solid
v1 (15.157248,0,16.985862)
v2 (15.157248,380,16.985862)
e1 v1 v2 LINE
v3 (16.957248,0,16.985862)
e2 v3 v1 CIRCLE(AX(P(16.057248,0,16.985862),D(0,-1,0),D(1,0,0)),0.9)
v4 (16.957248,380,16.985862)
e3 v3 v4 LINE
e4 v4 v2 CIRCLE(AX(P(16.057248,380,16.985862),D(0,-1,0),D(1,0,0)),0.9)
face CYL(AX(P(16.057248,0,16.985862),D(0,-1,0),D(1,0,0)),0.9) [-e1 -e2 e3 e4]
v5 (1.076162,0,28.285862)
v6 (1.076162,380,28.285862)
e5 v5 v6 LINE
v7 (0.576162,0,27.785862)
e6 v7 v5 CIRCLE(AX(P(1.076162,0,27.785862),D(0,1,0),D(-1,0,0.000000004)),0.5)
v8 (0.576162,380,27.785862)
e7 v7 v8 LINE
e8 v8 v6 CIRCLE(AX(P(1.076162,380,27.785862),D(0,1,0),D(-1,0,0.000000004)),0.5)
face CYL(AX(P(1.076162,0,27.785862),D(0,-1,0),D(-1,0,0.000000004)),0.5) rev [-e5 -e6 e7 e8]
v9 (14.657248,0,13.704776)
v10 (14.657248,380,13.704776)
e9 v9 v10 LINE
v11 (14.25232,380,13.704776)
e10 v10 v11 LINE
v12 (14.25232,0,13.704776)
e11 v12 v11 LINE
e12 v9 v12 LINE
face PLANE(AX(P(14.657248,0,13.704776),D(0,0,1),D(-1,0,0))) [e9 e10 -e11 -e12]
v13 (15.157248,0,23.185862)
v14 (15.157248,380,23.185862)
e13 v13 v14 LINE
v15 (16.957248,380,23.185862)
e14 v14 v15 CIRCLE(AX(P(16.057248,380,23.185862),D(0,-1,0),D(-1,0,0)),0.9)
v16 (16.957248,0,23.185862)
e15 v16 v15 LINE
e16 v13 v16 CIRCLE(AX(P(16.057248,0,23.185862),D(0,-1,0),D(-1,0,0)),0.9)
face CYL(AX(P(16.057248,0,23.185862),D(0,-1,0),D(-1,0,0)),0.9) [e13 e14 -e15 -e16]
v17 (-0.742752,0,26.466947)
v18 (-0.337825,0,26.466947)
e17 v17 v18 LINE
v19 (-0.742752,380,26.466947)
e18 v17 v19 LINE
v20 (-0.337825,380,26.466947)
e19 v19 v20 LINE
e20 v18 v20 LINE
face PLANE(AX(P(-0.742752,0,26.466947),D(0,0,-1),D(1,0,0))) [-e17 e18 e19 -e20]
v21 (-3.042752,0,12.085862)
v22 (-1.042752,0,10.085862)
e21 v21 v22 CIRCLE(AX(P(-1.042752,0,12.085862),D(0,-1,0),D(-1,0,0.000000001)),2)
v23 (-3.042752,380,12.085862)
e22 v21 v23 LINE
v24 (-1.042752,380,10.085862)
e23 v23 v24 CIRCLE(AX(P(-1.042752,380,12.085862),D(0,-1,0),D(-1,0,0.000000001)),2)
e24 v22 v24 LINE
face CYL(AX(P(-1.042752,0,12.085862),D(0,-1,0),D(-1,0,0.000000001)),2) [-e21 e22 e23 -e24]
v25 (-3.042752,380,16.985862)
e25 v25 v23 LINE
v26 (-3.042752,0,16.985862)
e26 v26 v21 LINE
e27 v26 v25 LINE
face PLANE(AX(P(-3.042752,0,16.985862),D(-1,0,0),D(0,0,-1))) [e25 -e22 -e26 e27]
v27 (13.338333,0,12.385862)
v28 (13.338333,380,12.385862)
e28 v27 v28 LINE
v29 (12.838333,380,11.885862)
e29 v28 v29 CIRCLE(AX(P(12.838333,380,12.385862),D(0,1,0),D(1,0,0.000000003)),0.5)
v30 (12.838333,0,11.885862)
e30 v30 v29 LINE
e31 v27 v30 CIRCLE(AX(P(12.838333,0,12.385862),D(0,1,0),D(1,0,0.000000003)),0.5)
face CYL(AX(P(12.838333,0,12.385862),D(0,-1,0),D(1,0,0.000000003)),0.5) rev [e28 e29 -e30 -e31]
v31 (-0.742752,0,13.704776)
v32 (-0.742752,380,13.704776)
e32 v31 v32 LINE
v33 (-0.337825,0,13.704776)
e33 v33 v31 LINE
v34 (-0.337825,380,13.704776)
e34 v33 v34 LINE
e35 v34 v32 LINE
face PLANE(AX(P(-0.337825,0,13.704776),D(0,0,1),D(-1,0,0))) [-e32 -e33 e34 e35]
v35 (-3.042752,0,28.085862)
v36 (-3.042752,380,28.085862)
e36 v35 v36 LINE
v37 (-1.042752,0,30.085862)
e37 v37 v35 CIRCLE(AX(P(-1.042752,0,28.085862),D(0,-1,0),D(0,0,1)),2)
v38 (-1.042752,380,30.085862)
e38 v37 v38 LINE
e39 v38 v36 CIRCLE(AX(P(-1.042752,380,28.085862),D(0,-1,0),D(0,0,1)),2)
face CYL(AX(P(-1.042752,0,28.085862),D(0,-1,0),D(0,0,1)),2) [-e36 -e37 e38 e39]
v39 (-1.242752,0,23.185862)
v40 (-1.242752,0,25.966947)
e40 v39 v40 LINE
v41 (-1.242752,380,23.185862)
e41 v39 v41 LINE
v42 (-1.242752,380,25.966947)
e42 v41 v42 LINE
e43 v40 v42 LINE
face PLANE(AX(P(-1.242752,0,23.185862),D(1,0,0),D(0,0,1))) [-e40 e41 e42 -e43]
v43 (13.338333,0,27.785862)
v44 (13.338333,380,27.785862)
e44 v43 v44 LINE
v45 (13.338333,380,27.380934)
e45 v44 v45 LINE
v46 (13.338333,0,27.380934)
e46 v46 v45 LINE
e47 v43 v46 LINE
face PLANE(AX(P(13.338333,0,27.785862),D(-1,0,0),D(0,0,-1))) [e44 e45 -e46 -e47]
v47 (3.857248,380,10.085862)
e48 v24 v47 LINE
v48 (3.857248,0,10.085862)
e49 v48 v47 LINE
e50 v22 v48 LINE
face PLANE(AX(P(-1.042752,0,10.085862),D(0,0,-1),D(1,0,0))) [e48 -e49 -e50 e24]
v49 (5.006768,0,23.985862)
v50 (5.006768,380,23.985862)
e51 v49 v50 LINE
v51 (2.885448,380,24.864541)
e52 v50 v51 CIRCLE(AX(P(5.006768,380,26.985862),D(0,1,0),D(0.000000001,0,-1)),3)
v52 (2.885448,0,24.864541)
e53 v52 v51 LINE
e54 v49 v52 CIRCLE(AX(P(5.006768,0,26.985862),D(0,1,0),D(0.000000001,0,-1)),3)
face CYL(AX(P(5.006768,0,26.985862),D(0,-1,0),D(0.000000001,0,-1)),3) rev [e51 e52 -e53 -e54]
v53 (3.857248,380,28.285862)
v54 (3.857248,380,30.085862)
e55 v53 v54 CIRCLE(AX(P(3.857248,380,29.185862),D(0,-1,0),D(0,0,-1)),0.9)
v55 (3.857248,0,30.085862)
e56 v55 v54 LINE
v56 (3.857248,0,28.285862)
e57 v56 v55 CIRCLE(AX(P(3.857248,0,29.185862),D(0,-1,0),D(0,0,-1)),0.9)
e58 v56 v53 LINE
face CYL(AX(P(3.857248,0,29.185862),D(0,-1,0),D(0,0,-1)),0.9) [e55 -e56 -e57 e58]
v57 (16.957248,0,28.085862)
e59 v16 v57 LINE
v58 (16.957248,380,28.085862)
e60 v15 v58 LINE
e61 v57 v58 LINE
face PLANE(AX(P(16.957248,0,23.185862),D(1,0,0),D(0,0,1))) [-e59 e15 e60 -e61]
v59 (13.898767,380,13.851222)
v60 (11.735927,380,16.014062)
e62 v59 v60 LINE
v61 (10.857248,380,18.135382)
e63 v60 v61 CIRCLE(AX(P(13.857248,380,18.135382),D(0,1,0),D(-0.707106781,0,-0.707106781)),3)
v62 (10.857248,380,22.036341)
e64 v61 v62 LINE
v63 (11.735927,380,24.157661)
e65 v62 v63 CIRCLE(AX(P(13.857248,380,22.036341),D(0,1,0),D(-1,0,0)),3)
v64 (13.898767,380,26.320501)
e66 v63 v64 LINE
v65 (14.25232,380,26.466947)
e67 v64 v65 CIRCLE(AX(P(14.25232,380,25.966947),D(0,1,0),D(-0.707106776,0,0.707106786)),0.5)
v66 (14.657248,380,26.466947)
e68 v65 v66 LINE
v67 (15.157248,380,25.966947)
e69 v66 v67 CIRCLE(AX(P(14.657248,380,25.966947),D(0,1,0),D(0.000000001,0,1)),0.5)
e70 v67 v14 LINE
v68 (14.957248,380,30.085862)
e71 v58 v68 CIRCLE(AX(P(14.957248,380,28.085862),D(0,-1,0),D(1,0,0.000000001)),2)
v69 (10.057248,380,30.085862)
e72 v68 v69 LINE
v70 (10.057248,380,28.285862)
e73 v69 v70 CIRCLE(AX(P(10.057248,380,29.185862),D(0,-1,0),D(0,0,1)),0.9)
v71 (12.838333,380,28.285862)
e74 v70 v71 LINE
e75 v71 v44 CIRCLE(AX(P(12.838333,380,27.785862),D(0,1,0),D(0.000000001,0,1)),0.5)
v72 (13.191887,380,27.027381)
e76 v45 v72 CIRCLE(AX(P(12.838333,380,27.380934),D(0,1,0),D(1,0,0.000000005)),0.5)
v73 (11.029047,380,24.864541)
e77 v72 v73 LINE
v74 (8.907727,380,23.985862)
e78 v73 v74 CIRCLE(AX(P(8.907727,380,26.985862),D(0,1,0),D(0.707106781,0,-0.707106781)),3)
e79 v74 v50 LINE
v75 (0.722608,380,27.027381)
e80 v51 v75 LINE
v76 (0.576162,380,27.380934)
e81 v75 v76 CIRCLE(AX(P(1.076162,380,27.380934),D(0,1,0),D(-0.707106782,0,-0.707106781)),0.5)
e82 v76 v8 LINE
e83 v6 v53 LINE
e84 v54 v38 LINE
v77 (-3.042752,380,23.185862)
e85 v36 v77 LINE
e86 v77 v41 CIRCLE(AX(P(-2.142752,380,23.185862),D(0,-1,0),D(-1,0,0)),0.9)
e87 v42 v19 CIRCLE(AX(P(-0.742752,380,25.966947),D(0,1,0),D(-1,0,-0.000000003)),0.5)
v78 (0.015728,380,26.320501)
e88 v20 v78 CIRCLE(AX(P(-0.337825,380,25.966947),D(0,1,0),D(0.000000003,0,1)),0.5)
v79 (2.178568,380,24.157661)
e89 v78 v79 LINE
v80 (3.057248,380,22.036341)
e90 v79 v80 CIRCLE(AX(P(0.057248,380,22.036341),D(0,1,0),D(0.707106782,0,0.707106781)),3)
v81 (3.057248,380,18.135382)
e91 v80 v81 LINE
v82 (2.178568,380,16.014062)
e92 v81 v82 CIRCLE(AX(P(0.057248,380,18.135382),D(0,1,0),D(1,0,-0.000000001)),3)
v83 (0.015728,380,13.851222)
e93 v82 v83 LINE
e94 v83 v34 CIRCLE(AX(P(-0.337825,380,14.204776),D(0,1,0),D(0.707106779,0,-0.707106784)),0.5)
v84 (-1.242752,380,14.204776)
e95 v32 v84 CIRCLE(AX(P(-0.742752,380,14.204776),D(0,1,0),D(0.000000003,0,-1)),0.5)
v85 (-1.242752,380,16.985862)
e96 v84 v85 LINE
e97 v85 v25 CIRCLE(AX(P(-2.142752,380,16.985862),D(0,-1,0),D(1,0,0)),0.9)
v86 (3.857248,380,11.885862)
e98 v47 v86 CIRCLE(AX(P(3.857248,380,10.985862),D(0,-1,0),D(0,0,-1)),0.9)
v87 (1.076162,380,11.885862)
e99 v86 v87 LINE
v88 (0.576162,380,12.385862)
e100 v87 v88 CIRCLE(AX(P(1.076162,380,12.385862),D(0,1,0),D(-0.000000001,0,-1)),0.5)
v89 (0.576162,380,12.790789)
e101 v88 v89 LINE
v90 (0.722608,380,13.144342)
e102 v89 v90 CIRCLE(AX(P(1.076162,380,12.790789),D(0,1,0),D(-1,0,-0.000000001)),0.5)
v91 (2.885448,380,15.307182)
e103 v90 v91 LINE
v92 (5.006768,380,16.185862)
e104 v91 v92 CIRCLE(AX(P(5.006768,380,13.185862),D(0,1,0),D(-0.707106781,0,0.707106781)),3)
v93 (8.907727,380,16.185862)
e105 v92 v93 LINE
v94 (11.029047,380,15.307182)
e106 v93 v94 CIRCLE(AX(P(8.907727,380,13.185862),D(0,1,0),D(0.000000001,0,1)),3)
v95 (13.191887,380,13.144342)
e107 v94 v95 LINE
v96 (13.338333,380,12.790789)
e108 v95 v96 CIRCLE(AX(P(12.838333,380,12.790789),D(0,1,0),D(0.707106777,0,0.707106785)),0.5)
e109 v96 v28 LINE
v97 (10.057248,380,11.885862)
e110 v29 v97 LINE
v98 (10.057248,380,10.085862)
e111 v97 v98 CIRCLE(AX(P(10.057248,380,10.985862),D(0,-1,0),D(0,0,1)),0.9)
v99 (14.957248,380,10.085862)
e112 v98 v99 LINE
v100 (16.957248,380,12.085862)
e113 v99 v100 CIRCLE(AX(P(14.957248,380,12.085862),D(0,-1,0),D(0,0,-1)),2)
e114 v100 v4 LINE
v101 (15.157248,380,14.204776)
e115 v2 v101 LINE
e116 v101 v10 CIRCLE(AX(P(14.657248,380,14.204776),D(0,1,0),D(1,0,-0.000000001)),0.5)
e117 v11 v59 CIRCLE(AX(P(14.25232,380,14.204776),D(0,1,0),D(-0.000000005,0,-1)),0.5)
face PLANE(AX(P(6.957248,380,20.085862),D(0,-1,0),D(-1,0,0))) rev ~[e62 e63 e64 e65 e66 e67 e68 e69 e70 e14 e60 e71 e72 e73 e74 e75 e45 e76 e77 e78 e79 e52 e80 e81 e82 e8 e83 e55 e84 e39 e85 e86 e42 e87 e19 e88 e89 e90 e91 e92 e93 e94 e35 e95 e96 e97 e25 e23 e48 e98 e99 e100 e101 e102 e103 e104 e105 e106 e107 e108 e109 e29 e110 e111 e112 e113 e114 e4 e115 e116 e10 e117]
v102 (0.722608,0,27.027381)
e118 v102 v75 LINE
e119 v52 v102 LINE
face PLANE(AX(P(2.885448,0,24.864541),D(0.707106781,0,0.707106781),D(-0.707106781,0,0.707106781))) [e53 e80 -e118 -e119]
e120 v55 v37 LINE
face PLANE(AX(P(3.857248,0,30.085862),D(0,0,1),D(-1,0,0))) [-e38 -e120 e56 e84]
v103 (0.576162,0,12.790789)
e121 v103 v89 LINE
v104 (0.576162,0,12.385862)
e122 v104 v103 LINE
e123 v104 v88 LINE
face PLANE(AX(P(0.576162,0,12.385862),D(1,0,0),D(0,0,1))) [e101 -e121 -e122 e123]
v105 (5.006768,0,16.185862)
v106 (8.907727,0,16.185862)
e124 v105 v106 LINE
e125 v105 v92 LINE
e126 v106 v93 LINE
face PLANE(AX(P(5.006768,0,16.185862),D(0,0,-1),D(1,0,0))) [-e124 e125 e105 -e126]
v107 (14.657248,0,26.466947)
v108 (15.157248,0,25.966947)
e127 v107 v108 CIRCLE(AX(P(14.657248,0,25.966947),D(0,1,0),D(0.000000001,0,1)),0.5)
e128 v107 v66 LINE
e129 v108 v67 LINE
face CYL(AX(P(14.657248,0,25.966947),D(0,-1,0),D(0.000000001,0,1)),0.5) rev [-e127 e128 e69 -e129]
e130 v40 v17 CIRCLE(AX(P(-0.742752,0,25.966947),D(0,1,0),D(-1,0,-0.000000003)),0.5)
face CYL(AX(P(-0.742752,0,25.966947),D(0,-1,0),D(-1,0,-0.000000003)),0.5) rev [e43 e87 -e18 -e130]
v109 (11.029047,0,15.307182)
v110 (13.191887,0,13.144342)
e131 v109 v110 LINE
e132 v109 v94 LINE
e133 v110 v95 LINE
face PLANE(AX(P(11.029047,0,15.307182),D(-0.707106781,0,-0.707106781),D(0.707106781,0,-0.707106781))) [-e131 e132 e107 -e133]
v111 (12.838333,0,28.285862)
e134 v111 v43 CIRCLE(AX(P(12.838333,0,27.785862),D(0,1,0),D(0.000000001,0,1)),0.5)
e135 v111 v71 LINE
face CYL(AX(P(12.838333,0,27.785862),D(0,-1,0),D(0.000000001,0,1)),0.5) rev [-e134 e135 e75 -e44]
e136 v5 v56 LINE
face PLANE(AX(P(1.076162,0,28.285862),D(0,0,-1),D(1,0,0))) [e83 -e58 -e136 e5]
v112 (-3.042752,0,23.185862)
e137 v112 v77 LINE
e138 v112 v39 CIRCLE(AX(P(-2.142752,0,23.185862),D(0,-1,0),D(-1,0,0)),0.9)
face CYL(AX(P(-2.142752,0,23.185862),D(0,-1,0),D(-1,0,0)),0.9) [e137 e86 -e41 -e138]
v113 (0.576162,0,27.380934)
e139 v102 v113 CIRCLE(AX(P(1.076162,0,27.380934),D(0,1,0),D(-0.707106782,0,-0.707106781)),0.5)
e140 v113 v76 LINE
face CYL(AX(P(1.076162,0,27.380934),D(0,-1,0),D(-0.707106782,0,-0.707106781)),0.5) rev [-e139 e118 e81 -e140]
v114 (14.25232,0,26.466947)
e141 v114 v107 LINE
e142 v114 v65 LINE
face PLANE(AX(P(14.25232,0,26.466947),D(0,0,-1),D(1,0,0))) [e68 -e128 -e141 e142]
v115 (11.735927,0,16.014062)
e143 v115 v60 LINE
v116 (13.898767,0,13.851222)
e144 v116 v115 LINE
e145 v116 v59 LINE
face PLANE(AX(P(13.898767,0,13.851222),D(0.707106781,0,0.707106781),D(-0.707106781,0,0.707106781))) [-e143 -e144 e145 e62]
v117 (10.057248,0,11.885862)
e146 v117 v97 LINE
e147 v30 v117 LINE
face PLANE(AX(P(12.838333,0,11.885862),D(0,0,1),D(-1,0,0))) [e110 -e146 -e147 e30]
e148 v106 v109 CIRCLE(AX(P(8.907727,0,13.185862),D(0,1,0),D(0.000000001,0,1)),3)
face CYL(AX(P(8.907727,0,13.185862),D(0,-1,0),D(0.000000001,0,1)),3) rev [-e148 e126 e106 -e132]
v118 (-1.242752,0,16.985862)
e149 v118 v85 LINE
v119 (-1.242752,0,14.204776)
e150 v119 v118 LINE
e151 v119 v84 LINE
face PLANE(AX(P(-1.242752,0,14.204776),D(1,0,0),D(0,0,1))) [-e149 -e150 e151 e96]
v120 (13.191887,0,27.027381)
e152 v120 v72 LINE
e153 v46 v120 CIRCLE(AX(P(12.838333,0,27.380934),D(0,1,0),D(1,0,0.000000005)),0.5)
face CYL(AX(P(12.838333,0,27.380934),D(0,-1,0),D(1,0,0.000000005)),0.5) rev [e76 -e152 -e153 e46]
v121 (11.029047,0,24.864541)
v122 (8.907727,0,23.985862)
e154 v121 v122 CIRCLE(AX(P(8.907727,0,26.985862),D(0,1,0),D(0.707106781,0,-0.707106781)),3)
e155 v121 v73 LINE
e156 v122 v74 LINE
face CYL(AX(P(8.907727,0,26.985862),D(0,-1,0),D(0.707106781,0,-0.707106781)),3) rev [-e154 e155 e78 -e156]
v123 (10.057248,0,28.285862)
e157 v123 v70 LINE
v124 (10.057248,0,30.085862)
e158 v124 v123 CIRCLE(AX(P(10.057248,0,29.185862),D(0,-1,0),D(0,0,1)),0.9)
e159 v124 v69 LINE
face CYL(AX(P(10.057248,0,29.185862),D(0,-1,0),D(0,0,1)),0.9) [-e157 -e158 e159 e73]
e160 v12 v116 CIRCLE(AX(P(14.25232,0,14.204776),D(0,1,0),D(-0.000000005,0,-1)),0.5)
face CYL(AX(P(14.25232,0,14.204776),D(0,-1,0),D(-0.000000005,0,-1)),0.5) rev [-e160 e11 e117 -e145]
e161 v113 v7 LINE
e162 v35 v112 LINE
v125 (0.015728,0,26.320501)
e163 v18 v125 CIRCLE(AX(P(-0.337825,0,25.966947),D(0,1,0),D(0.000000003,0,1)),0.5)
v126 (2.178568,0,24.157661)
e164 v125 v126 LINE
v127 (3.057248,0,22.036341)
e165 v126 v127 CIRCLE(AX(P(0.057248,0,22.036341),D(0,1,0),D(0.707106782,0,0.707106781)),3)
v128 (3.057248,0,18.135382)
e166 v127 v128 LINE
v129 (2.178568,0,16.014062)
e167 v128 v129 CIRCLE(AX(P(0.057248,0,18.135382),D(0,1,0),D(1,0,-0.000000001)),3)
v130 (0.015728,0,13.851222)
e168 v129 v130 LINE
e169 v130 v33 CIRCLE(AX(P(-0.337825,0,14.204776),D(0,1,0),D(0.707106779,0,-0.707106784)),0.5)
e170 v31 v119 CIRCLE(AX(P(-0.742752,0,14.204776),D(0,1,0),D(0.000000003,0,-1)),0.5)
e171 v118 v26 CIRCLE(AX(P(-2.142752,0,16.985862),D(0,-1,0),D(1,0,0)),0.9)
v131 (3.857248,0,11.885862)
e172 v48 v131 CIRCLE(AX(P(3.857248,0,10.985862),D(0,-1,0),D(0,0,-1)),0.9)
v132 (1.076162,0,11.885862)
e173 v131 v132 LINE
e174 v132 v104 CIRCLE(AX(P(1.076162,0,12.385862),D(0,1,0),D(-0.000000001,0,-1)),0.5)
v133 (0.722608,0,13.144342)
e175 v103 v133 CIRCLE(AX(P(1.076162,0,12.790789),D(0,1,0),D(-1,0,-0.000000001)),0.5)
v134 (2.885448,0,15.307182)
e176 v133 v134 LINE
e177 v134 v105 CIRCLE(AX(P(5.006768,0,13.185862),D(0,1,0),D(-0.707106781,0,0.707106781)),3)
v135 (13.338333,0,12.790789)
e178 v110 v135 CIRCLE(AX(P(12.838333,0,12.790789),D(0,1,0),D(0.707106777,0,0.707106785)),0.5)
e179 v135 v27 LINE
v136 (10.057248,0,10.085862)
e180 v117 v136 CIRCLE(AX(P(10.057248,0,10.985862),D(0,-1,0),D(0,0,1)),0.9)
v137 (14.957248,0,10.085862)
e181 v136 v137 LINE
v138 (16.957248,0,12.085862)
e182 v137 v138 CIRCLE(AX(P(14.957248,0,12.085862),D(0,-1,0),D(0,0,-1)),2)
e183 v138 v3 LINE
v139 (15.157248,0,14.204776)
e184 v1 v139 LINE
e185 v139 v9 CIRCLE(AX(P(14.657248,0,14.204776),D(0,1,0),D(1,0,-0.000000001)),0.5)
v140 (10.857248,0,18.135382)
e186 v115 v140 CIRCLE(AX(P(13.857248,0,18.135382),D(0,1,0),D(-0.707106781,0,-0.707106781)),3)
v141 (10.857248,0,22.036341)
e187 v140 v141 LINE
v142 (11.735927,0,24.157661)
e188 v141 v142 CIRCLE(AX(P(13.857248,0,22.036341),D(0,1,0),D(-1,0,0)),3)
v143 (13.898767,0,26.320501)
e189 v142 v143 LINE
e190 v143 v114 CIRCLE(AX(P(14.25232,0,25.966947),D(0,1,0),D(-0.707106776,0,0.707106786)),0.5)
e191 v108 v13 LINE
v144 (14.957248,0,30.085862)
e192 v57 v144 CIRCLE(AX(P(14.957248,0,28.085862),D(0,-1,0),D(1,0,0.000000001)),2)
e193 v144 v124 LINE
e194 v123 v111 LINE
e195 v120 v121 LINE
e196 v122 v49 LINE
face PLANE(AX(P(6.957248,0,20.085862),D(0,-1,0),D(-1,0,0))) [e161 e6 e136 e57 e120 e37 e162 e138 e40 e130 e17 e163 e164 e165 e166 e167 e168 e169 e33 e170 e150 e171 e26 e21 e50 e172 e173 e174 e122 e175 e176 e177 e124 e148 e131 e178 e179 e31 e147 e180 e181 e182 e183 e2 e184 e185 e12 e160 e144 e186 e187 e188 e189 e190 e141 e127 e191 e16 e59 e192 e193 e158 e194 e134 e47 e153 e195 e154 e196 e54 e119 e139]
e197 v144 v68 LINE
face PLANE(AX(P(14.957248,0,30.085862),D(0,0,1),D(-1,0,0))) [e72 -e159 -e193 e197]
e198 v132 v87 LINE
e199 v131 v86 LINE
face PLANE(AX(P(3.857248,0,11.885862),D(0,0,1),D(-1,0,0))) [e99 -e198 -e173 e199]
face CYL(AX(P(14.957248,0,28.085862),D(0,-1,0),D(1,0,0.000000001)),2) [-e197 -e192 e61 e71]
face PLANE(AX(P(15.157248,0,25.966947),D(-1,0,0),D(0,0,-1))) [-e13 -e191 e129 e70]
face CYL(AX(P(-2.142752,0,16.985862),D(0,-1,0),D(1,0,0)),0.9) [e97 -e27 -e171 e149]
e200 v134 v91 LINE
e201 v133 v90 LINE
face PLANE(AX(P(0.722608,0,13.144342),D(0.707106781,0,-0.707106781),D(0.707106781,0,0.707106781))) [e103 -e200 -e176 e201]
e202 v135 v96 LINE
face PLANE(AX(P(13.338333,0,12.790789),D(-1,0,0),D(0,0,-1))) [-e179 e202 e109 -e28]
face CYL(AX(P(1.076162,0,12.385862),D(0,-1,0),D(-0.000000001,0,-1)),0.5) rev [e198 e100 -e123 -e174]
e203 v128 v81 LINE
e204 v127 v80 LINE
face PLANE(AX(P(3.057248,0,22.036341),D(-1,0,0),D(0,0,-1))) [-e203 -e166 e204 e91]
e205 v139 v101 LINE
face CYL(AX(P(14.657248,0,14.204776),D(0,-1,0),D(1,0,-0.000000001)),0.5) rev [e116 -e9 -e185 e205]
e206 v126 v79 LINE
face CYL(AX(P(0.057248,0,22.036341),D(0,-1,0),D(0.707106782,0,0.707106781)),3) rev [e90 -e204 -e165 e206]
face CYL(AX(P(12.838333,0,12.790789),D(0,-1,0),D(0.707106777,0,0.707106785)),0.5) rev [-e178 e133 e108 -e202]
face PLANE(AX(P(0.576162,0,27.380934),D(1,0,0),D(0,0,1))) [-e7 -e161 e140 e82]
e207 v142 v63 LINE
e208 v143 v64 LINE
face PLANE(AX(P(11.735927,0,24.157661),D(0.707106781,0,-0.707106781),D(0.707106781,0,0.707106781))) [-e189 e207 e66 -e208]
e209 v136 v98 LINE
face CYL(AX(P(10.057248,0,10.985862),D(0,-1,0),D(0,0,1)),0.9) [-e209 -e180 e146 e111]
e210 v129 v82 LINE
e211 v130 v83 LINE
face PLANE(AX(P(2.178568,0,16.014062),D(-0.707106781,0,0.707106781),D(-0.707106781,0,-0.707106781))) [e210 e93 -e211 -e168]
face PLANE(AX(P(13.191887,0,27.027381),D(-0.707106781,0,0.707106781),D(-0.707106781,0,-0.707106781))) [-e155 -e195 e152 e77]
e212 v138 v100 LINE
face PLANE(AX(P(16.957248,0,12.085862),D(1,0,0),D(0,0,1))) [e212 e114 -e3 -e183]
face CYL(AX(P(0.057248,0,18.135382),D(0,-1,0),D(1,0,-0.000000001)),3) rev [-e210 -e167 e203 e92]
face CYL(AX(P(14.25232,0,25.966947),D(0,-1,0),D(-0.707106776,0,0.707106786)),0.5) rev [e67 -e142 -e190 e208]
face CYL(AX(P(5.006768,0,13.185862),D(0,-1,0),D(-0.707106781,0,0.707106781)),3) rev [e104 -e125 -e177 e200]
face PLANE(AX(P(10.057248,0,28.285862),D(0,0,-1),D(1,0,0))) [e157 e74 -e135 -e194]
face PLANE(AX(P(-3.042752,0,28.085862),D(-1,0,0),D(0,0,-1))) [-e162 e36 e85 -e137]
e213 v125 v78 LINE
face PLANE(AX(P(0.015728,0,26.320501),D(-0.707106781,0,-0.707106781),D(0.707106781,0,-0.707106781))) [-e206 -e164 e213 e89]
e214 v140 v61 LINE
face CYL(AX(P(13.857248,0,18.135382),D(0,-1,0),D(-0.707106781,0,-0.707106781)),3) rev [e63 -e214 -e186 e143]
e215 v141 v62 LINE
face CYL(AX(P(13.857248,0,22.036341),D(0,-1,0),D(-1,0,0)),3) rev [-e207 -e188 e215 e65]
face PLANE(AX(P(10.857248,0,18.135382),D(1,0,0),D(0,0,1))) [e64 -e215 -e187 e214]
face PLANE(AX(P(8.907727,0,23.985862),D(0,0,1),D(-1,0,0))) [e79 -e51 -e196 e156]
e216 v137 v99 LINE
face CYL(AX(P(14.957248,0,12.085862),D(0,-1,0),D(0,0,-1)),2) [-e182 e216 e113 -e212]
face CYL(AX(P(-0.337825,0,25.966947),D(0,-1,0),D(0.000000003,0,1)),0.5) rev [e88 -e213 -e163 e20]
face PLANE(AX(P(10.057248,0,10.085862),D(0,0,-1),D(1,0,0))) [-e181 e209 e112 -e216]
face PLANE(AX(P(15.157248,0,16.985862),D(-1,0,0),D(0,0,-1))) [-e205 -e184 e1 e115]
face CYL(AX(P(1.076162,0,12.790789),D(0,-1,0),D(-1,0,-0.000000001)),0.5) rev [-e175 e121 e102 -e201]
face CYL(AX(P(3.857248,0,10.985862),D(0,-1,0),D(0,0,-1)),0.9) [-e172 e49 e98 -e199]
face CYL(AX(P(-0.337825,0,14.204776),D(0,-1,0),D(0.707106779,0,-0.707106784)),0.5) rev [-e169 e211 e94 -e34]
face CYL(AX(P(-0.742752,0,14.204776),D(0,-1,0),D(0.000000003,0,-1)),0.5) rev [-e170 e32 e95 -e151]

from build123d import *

# Parameters (mm, degrees)
EXTRUDE_1_DEPTH = 380


with BuildPart() as part:
    # 草图2 → 凸台-拉伸1 (new body)
    with BuildSketch(Plane(origin=(0, 0, 0), x_dir=(1, 0, 0), z_dir=(0, 1, 0))):
        with BuildLine():
            Line((-1.042752475, -10.085861632), (3.857247525, -10.085861632))
            ThreePointArc((3.857247525, -10.085861632), (4.757247525, -10.985861632), (3.857247525, -11.885861632))
            Line((3.857247525, -11.885861632), (1.076161722, -11.885861632))
            ThreePointArc((1.076161722, -11.885861632), (0.722608332, -12.032308241), (0.576161722, -12.385861632))
            Line((0.576161722, -12.385861632), (0.576161722, -12.790788968))
            ThreePointArc((0.576161722, -12.790788968), (0.614221956, -12.982130685), (0.722608332, -13.144342359))
            Line((0.722608332, -13.144342359), (2.885447948, -15.307181975))
            ThreePointArc((2.885447948, -15.307181975), (3.858717994, -15.957500229), (5.006768291, -16.185861632))
            Line((5.006768291, -16.185861632), (8.907726758, -16.185861632))
            ThreePointArc((8.907726758, -16.185861632), (10.055777055, -15.957500229), (11.029047102, -15.307181975))
            Line((11.029047102, -15.307181975), (13.191886718, -13.144342359))
            ThreePointArc((13.191886718, -13.144342359), (13.300273094, -12.982130685), (13.338333327, -12.790788968))
            Line((13.338333327, -12.790788968), (13.338333327, -12.385861632))
            ThreePointArc((13.338333327, -12.385861632), (13.191886718, -12.032308241), (12.838333327, -11.885861632))
            Line((12.838333327, -11.885861632), (10.057247525, -11.885861632))
            ThreePointArc((10.057247525, -11.885861632), (9.157247525, -10.985861632), (10.057247525, -10.085861632))
            Line((10.057247525, -10.085861632), (14.957247525, -10.085861632))
            ThreePointArc((14.957247525, -10.085861632), (16.371461087, -10.671648069), (16.957247525, -12.085861632))
            Line((16.957247525, -12.085861632), (16.957247525, -16.985861632))
            ThreePointArc((16.957247525, -16.985861632), (16.057247525, -17.885861632), (15.157247525, -16.985861632))
            Line((15.157247525, -16.985861632), (15.157247525, -14.204775829))
            ThreePointArc((15.157247525, -14.204775829), (15.010800915, -13.851222438), (14.657247525, -13.704775829))
            Line((14.657247525, -13.704775829), (14.252320188, -13.704775829))
            ThreePointArc((14.252320188, -13.704775829), (14.060978472, -13.742836063), (13.898766797, -13.851222438))
            Line((13.898766797, -13.851222438), (11.735927181, -16.014062054))
            ThreePointArc((11.735927181, -16.014062054), (11.085608927, -16.987332101), (10.857247525, -18.135382398))
            Line((10.857247525, -18.135382398), (10.857247525, -22.036340865))
            ThreePointArc((10.857247525, -22.036340865), (11.085608927, -23.184391162), (11.735927181, -24.157661209))
            Line((11.735927181, -24.157661209), (13.898766797, -26.320500825))
            ThreePointArc((13.898766797, -26.320500825), (14.060978472, -26.4288872), (14.252320188, -26.466947434))
            Line((14.252320188, -26.466947434), (14.657247525, -26.466947434))
            ThreePointArc((14.657247525, -26.466947434), (15.010800915, -26.320500825), (15.157247525, -25.966947434))
            Line((15.157247525, -25.966947434), (15.157247525, -23.185861632))
            ThreePointArc((15.157247525, -23.185861632), (16.057247525, -22.285861632), (16.957247525, -23.185861632))
            Line((16.957247525, -23.185861632), (16.957247525, -28.085861632))
            ThreePointArc((16.957247525, -28.085861632), (16.371461087, -29.500075194), (14.957247525, -30.085861632))
            Line((14.957247525, -30.085861632), (10.057247525, -30.085861632))
            ThreePointArc((10.057247525, -30.085861632), (9.157247525, -29.185861632), (10.057247525, -28.285861632))
            Line((10.057247525, -28.285861632), (12.838333327, -28.285861632))
            ThreePointArc((12.838333327, -28.285861632), (13.191886718, -28.139415022), (13.338333327, -27.785861632))
            Line((13.338333327, -27.785861632), (13.338333327, -27.380934295))
            ThreePointArc((13.338333327, -27.380934295), (13.300273094, -27.189592579), (13.191886718, -27.027380904))
            Line((13.191886718, -27.027380904), (11.029047102, -24.864541288))
            ThreePointArc((11.029047102, -24.864541288), (10.055777055, -24.214223034), (8.907726758, -23.985861632))
            Line((8.907726758, -23.985861632), (5.006768291, -23.985861632))
            ThreePointArc((5.006768291, -23.985861632), (3.858717994, -24.214223034), (2.885447948, -24.864541288))
            Line((2.885447948, -24.864541288), (0.722608332, -27.027380904))
            ThreePointArc((0.722608332, -27.027380904), (0.614221956, -27.189592579), (0.576161722, -27.380934295))
            Line((0.576161722, -27.380934295), (0.576161722, -27.785861632))
            ThreePointArc((0.576161722, -27.785861632), (0.722608332, -28.139415022), (1.076161722, -28.285861632))
            Line((1.076161722, -28.285861632), (3.857247525, -28.285861632))
            ThreePointArc((3.857247525, -28.285861632), (4.757247525, -29.185861632), (3.857247525, -30.085861632))
            Line((3.857247525, -30.085861632), (-1.042752475, -30.085861632))
            ThreePointArc((-1.042752475, -30.085861632), (-2.456966038, -29.500075194), (-3.042752475, -28.085861632))
            Line((-3.042752475, -28.085861632), (-3.042752475, -23.185861632))
            ThreePointArc((-3.042752475, -23.185861632), (-2.142752475, -22.285861632), (-1.242752475, -23.185861632))
            Line((-1.242752475, -23.185861632), (-1.242752475, -25.966947434))
            ThreePointArc((-1.242752475, -25.966947434), (-1.096305866, -26.320500825), (-0.742752475, -26.466947434))
            Line((-0.742752475, -26.466947434), (-0.337825138, -26.466947434))
            ThreePointArc((-0.337825138, -26.466947434), (-0.146483422, -26.4288872), (0.015728252, -26.320500825))
            Line((0.015728252, -26.320500825), (2.178567868, -24.157661209))
            ThreePointArc((2.178567868, -24.157661209), (2.828886122, -23.184391162), (3.057247525, -22.036340865))
            Line((3.057247525, -22.036340865), (3.057247525, -18.135382398))
            ThreePointArc((3.057247525, -18.135382398), (2.828886122, -16.987332101), (2.178567868, -16.014062054))
            Line((2.178567868, -16.014062054), (0.015728252, -13.851222438))
            ThreePointArc((0.015728252, -13.851222438), (-0.146483422, -13.742836063), (-0.337825138, -13.704775829))
            Line((-0.337825138, -13.704775829), (-0.742752475, -13.704775829))
            ThreePointArc((-0.742752475, -13.704775829), (-1.096305866, -13.851222438), (-1.242752475, -14.204775829))
            Line((-1.242752475, -14.204775829), (-1.242752475, -16.985861632))
            ThreePointArc((-1.242752475, -16.985861632), (-2.142752475, -17.885861632), (-3.042752475, -16.985861632))
            Line((-3.042752475, -16.985861632), (-3.042752475, -12.085861632))
            ThreePointArc((-3.042752475, -12.085861632), (-2.456966038, -10.671648069), (-1.042752475, -10.085861632))
        make_face()
    extrude(amount=EXTRUDE_1_DEPTH)


solid = part.part
